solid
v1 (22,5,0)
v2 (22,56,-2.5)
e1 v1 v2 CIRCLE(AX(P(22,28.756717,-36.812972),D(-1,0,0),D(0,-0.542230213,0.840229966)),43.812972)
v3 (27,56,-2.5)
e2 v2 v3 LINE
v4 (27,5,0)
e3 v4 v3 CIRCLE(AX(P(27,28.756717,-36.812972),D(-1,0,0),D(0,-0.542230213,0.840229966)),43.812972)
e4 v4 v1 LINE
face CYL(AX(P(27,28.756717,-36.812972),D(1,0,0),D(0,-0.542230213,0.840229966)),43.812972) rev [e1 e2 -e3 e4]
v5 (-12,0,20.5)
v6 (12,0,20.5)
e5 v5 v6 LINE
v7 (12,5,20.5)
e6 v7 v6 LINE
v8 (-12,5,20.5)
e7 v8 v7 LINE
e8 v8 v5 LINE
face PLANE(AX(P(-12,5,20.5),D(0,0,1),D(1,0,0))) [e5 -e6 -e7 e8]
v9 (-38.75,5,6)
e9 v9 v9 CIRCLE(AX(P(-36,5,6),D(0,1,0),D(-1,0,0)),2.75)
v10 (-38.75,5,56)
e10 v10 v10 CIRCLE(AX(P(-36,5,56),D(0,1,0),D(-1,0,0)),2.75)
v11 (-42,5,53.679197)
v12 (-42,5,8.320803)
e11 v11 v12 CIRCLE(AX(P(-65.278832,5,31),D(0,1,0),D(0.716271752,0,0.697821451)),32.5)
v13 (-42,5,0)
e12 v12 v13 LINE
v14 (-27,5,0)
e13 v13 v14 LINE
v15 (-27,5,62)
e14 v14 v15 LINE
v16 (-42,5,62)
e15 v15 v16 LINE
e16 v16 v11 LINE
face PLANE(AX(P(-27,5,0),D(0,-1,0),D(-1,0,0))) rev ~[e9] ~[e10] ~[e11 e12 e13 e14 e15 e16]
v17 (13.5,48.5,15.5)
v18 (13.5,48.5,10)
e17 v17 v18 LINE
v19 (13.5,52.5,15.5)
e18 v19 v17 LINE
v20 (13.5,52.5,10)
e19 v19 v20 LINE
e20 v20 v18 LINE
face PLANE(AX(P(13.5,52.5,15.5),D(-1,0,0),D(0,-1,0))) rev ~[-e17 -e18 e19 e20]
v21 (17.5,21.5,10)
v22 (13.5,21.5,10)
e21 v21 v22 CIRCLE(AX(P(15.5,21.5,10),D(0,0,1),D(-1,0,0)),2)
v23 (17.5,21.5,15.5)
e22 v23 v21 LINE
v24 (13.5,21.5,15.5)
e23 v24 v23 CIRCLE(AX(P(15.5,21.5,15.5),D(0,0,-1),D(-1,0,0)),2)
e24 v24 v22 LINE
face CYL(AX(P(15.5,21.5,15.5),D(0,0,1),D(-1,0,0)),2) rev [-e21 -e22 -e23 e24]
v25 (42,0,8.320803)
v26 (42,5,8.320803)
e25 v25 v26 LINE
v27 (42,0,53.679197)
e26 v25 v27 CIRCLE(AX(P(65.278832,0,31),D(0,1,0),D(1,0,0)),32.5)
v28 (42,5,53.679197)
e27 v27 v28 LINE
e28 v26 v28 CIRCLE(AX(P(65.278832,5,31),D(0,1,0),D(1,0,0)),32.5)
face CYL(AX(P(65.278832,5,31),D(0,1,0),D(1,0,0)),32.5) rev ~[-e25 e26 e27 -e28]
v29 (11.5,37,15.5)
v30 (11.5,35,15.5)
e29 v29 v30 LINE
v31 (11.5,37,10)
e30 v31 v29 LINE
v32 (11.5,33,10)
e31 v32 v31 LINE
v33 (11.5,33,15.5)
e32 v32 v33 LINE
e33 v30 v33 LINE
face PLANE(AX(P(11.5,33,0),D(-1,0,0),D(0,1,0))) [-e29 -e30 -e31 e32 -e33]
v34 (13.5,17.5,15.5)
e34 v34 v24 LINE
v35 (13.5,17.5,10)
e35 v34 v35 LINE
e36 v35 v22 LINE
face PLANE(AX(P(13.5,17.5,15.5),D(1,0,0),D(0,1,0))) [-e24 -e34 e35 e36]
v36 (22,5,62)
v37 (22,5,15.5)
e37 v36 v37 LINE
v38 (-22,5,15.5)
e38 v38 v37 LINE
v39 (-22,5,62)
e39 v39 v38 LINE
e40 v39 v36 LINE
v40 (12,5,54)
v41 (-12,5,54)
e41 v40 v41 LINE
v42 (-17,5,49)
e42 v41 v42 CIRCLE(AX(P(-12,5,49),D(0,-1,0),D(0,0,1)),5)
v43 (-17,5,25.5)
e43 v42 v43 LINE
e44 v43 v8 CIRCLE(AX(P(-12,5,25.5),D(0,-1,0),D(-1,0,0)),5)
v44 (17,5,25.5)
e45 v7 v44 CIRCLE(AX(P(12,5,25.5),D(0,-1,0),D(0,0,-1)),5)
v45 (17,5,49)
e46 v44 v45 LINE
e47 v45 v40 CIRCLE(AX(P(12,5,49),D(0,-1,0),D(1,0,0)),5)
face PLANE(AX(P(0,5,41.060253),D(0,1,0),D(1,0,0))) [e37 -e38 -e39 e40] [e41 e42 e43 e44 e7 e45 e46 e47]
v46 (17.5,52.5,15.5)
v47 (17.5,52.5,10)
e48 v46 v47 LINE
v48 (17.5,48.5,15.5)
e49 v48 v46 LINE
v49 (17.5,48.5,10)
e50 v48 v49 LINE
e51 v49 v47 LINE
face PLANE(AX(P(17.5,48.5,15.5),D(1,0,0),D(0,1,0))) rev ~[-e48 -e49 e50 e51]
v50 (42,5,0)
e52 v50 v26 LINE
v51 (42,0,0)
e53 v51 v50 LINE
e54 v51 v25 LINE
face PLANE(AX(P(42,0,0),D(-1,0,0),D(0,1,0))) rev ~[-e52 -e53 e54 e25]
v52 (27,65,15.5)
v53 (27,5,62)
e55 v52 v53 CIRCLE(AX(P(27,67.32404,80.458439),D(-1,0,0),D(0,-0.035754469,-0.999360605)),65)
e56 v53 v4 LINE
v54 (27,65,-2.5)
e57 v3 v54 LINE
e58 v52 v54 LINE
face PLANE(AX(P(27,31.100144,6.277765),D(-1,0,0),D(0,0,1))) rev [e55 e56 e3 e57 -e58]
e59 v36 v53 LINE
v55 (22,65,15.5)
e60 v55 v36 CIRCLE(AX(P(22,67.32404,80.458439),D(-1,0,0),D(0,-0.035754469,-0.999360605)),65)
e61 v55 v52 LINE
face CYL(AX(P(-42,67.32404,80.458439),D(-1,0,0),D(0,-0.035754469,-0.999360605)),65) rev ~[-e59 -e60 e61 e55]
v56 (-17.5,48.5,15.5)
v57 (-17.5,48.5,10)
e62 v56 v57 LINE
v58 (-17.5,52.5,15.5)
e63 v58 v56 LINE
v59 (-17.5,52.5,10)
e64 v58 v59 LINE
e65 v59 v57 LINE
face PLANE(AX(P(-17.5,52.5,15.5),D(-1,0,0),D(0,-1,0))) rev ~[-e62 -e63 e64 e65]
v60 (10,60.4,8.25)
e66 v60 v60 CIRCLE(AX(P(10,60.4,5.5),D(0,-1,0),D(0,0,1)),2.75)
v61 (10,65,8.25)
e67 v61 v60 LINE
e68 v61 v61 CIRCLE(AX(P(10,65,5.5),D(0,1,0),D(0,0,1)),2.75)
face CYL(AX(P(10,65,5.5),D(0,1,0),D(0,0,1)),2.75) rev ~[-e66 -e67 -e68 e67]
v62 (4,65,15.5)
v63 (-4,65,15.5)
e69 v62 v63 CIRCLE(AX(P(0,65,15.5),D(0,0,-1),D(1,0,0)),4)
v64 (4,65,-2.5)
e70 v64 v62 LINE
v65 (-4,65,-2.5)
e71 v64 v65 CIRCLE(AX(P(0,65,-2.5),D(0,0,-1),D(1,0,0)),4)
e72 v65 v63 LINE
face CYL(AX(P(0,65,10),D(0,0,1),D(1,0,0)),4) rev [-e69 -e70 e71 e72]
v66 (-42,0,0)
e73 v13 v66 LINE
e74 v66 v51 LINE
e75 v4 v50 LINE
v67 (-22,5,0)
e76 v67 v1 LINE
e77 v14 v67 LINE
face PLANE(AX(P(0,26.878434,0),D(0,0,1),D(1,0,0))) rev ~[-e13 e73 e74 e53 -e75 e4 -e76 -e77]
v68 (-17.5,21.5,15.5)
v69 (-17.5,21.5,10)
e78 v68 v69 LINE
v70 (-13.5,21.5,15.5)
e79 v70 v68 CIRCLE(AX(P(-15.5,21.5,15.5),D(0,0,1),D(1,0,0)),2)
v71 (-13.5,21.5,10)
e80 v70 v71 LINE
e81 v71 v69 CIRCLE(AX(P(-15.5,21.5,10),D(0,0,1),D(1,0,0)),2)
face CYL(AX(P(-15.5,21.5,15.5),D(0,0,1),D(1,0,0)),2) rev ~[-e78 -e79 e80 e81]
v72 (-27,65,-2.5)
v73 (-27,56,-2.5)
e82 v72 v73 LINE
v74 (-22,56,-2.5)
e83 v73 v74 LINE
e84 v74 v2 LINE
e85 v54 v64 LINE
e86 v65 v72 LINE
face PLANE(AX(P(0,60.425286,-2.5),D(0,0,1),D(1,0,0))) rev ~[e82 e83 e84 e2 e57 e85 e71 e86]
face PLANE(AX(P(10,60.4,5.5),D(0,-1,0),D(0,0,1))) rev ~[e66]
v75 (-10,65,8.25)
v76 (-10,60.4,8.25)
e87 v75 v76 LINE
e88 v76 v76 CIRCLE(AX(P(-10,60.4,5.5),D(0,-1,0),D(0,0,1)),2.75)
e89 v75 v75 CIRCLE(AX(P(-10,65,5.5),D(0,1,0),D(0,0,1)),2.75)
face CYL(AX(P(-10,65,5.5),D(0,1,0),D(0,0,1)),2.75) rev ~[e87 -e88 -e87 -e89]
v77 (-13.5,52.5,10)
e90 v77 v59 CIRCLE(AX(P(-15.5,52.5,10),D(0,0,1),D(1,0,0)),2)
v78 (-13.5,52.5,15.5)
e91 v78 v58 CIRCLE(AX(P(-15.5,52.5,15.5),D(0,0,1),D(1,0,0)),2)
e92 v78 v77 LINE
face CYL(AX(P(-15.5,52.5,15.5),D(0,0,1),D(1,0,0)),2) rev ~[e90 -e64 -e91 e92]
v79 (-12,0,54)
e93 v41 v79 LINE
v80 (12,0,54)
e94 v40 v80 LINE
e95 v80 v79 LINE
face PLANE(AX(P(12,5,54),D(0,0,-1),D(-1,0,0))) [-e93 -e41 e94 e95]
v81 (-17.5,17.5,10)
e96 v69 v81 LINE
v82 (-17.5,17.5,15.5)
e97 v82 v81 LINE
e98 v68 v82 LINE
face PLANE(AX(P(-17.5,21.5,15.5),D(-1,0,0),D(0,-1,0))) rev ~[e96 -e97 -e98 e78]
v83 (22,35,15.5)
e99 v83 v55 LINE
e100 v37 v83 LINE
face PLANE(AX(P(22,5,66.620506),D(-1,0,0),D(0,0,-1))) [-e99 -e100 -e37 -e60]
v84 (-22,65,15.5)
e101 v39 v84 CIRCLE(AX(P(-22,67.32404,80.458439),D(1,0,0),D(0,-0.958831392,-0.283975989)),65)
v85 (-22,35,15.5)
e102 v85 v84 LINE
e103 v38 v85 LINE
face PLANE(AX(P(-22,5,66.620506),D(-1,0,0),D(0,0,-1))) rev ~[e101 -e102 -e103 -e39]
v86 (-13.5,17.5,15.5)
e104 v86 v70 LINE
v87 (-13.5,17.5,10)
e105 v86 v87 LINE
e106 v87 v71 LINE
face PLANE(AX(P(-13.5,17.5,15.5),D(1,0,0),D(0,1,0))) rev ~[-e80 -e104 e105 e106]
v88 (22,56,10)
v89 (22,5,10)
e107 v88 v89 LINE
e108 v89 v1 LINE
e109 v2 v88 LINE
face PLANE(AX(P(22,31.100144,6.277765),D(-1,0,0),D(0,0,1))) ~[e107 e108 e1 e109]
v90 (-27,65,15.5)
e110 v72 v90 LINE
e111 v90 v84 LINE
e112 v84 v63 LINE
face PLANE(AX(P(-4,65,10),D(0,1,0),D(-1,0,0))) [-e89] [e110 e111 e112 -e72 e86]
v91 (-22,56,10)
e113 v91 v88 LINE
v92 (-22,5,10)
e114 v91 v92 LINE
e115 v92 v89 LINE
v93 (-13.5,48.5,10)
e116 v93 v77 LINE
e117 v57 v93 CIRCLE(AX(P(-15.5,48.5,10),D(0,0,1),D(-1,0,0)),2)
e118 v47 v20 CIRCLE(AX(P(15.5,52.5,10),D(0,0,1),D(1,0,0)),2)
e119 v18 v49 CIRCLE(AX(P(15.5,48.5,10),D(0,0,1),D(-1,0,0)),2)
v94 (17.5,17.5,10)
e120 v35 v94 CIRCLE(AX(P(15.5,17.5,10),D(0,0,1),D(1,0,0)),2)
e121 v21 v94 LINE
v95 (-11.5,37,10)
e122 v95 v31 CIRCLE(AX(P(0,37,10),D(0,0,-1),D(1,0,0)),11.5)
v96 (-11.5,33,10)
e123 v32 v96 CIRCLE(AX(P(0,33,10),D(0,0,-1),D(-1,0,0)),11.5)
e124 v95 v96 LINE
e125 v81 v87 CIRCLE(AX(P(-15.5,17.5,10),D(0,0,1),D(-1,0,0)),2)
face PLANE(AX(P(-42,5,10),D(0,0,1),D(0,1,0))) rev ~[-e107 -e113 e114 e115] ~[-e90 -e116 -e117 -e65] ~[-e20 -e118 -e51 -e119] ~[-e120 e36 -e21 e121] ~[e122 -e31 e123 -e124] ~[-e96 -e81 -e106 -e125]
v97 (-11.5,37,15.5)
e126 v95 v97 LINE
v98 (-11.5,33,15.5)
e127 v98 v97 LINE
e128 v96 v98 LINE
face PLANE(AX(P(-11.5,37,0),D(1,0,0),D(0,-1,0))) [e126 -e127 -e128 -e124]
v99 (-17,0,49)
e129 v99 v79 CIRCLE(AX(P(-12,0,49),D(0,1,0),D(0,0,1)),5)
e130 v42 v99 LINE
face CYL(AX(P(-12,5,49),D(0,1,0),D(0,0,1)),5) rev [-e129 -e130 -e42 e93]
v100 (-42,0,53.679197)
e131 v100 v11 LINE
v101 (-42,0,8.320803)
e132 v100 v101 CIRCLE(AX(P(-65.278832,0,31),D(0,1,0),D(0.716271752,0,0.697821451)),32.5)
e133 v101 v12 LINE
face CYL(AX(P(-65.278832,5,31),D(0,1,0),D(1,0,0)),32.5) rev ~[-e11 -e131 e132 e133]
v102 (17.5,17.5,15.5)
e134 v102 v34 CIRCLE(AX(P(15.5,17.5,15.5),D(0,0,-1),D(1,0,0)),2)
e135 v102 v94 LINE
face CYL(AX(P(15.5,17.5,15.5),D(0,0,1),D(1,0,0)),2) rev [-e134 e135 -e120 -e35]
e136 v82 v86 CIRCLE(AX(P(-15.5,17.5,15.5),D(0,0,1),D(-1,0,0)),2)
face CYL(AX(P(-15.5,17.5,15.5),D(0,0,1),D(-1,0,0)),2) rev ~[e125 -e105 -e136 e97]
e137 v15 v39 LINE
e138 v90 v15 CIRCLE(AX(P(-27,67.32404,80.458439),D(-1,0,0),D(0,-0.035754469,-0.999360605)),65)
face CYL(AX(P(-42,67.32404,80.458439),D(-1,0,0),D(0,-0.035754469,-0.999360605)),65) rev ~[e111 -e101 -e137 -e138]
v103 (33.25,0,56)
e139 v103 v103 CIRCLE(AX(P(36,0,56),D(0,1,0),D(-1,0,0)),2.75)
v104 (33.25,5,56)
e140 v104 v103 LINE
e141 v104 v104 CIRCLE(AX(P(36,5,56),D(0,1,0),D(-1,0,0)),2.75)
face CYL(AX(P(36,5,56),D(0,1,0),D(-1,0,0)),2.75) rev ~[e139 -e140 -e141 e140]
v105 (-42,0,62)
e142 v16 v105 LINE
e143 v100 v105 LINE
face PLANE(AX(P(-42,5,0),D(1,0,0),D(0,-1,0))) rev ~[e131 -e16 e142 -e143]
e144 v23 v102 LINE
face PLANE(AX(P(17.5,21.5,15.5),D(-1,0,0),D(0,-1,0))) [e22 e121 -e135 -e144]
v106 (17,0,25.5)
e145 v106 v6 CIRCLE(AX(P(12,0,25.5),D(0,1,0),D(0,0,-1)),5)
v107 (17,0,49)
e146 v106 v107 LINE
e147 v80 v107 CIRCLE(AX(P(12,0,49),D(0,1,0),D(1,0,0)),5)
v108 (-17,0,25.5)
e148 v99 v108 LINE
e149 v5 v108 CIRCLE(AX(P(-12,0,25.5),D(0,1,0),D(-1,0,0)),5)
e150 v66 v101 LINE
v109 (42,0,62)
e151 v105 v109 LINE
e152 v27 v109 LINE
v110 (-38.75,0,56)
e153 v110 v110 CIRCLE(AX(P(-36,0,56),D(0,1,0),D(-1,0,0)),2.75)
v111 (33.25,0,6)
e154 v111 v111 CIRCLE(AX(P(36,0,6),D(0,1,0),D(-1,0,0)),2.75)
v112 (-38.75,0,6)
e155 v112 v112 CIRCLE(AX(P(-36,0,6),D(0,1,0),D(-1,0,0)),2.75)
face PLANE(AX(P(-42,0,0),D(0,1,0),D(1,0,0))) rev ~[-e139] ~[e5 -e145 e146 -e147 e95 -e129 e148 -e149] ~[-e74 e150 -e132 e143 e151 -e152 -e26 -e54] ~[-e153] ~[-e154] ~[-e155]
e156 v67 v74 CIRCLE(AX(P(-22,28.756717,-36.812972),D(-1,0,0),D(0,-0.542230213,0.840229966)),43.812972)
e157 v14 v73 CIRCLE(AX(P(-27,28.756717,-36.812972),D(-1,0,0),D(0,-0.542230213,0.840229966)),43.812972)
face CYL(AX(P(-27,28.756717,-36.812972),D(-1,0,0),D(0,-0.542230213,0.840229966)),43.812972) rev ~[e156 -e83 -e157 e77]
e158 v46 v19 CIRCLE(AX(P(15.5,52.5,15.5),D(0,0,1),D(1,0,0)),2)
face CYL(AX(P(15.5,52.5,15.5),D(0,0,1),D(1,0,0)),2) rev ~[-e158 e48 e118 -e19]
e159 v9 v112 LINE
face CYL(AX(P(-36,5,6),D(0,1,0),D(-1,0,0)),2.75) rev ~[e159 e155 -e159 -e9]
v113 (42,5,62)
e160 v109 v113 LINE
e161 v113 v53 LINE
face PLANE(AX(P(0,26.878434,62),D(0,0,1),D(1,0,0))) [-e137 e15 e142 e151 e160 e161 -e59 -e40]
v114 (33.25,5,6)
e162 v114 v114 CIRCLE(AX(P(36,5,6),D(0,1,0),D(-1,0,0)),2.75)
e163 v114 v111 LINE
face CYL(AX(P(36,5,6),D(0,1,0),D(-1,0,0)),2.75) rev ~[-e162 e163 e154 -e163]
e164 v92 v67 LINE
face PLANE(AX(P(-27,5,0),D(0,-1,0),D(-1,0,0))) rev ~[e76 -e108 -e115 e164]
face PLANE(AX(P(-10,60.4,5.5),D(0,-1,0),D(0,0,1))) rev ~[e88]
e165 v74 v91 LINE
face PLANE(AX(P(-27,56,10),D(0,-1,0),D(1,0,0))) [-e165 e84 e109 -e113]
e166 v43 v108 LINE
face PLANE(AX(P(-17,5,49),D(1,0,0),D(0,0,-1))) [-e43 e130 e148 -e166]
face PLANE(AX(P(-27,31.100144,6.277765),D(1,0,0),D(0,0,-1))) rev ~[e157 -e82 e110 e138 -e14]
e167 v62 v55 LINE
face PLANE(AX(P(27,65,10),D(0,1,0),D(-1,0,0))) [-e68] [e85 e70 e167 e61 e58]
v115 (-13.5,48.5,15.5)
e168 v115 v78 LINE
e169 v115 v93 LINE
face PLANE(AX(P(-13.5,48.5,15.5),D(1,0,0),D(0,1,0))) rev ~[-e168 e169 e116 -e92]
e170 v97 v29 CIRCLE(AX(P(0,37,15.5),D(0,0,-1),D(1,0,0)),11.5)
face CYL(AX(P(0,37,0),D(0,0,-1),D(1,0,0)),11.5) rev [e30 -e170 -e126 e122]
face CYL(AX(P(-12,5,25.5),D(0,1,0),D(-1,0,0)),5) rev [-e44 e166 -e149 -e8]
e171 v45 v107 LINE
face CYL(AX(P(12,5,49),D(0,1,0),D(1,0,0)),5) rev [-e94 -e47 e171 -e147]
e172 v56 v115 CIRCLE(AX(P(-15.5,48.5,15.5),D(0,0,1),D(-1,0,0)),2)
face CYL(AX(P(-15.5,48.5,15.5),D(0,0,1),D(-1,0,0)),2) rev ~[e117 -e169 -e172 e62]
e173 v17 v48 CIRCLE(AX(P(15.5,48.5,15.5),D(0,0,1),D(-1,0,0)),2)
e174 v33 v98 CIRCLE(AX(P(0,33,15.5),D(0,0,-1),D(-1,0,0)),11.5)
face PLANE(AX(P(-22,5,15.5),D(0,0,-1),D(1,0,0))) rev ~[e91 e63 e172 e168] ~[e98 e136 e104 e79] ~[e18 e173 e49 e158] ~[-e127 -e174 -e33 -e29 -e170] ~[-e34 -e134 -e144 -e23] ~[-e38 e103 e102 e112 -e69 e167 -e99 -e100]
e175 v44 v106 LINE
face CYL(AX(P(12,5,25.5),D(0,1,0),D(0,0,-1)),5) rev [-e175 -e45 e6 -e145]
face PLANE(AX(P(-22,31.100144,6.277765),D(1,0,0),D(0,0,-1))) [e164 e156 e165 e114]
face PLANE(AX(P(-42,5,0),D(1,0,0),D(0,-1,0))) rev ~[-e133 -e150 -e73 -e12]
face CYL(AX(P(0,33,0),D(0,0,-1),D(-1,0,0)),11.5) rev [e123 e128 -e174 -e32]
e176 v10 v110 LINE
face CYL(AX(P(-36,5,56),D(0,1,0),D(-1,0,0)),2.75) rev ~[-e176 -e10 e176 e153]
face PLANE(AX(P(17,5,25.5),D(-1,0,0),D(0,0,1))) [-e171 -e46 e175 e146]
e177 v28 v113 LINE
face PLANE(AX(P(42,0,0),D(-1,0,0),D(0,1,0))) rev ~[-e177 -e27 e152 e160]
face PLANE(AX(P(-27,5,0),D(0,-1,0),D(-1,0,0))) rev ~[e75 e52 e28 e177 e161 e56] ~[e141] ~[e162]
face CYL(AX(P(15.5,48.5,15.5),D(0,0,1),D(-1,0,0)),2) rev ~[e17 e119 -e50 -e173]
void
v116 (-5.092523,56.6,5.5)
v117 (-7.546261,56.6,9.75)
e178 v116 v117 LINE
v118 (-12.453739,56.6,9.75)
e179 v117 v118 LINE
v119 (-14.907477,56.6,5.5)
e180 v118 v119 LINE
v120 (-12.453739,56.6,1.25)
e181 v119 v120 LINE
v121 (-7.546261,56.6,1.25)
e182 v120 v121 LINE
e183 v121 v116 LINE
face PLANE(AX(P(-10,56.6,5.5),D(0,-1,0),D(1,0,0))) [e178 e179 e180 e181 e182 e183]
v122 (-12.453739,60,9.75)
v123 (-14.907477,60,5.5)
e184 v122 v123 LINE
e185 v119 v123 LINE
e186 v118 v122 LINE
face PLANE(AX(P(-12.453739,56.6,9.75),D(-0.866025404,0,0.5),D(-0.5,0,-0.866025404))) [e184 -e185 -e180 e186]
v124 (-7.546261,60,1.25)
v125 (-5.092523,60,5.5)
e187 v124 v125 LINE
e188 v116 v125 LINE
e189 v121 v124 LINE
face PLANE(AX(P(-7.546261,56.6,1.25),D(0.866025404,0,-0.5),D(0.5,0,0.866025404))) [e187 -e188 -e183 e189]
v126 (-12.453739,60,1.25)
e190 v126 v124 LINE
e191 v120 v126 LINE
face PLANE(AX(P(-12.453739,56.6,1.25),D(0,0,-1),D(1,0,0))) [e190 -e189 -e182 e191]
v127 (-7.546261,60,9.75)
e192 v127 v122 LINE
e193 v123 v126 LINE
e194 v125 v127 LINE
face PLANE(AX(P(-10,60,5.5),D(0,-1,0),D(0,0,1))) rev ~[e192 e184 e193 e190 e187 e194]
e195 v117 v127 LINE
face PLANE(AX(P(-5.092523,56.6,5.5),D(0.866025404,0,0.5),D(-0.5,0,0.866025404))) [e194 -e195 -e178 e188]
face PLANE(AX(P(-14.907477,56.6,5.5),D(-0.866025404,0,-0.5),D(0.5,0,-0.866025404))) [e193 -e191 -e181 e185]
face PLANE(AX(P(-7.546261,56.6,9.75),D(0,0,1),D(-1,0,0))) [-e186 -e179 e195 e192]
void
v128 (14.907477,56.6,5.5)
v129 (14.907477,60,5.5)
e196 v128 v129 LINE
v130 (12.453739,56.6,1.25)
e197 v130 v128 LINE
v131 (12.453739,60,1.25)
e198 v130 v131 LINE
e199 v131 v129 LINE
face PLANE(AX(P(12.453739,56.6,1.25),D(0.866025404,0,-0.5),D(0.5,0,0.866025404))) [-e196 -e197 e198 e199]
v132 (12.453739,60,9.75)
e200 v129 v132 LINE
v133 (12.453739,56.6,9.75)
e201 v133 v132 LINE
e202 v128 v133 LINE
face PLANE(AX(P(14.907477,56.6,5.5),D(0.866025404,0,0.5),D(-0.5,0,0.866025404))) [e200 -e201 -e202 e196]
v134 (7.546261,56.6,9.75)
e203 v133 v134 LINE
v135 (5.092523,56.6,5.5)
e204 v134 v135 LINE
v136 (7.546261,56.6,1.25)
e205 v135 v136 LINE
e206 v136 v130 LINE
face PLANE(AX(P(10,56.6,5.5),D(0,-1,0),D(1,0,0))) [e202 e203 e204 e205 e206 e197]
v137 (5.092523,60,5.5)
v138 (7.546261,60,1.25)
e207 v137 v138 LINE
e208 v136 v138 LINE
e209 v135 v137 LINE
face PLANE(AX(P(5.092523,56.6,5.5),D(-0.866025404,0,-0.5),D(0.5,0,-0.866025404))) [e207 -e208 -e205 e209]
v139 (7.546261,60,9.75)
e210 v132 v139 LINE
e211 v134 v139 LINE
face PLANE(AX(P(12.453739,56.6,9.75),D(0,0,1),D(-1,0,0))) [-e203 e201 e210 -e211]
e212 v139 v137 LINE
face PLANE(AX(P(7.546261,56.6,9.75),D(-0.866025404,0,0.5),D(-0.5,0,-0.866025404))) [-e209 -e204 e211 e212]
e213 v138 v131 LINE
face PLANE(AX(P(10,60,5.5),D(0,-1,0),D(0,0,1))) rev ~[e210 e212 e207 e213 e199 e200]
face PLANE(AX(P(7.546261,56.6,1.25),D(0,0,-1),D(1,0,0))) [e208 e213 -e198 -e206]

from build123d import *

# Parameters (mm, degrees)
BOSS_EXTRUDE1_DEPTH = 62
SKETCH2_W           = 10
SKETCH2_H           = 60
CUT_EXTRUDE1_DEPTH  = 85
SKETCH12_W          = 44
SKETCH12_H          = 51.120506265
CUT_EXTRUDE11_DEPTH = 30
SKETCH17_R          = 2.75
SKETCH17_R_2        = 32.5
CUT_EXTRUDE14_DEPTH = 6
CUT_EXTRUDE17_DEPTH = 10
CUT_EXTRUDE18_DEPTH = 6
SKETCH24_W          = 44
SKETCH24_H          = 8.565563784
CUT_EXTRUDE19_DEPTH = 31.0000001
BOSS_EXTRUDE2_DEPTH = 12.5
BOSS_EXTRUDE3_DEPTH = 5
CUT_EXTRUDE20_START = -0.6
CUT_EXTRUDE20_DEPTH = 3.4
SKETCH29_R          = 2.75
CUT_EXTRUDE21_DEPTH = 6
SKETCH33_R          = 2.75
BOSS_EXTRUDE5_DEPTH = 0.4


with BuildPart() as part:
    # Sketch1 → Boss-Extrude1 (new body)
    with BuildSketch(Plane.XY):
        with BuildLine():
            Line((-42, 0), (42, 0))
            Line((42, 0), (42, 5))
            Line((42, 5), (27, 5))
            Line((27, 5), (27, 65))
            Line((27, 65), (4, 65))
            ThreePointArc((4, 65), (0, 61), (-4, 65))
            Line((-4, 65), (-27, 65))
            Line((-27, 65), (-27, 5))
            Line((-27, 5), (-42, 5))
            Line((-42, 5), (-42, 0))
        make_face()
        with BuildLine():
            Line((-11.5, 37), (-11.5, 33))
            ThreePointArc((-11.5, 33), (0, 21.5), (11.5, 33))
            Line((11.5, 33), (11.5, 37))
            ThreePointArc((11.5, 37), (0, 48.5), (-11.5, 37))
        make_face(mode=Mode.SUBTRACT)
    extrude(amount=BOSS_EXTRUDE1_DEPTH)

    # Sketch2 → Cut-Extrude1 (cut, through all)
    with BuildSketch(Plane.ZY.offset(42)):
        with Locations((5, 35)):
            Rectangle(SKETCH2_W, SKETCH2_H)
        with BuildLine():
            Line((62, 5), (62, 65))
            Line((62, 65), (15.5, 65))
            ThreePointArc((15.5, 65), (29.081460906, 27.506882202), (62, 5))
        make_face()
    extrude(amount=-CUT_EXTRUDE1_DEPTH, mode=Mode.SUBTRACT)

    # Sketch12 → Cut-Extrude11 (cut)
    with BuildSketch(Plane(origin=(0, 5, 0), x_dir=(1, 0, 0), z_dir=(0, 1, 0))):
        with Locations((0, -41.060253133)):
            Rectangle(SKETCH12_W, SKETCH12_H)
    extrude(amount=CUT_EXTRUDE11_DEPTH, mode=Mode.SUBTRACT)

    # Sketch17 → Cut-Extrude14 (cut, through all)
    with BuildSketch(Plane(origin=(0, 5, 0), x_dir=(1, 0, 0), z_dir=(0, 1, 0))):
        with Locations(Location((-36, -6, 0), (0, 0, 180))):  # turned: the seam where the file's is
            Circle(SKETCH17_R)
        with Locations(Location((36, -6, 0), (0, 0, 180))):  # turned: the seam where the file's is
            Circle(SKETCH17_R)
        with Locations(Location((36, -56, 0), (0, 0, 180))):  # turned: the seam where the file's is
            Circle(SKETCH17_R)
        with Locations(Location((-36, -56, 0), (0, 0, 180))):  # turned: the seam where the file's is
            Circle(SKETCH17_R)
        with Locations((65.278831944, -31)):
            Circle(SKETCH17_R_2)
        with Locations((-65.278831944, -31)):
            Circle(SKETCH17_R_2)
    extrude(amount=-CUT_EXTRUDE14_DEPTH, mode=Mode.SUBTRACT)

    # Sketch20 → Cut-Extrude17 (cut)
    with BuildSketch(Plane.XY.offset(15.5)):
        with BuildLine():
            Line((-17.5, 52.5), (-17.5, 48.5))
            ThreePointArc((-17.5, 48.5), (-15.5, 46.5), (-13.5, 48.5))
            Line((-13.5, 48.5), (-13.5, 52.5))
            ThreePointArc((-13.5, 52.5), (-15.5, 54.5), (-17.5, 52.5))
        make_face()
        with BuildLine():
            Line((13.5, 52.5), (13.5, 48.5))
            ThreePointArc((13.5, 48.5), (15.5, 46.5), (17.5, 48.5))
            Line((17.5, 48.5), (17.5, 52.5))
            ThreePointArc((17.5, 52.5), (15.5, 54.5), (13.5, 52.5))
        make_face()
        with BuildLine():
            Line((-17.5, 21.5), (-17.5, 17.5))
            ThreePointArc((-17.5, 17.5), (-15.5, 15.5), (-13.5, 17.5))
            Line((-13.5, 17.5), (-13.5, 21.5))
            ThreePointArc((-13.5, 21.5), (-15.5, 23.5), (-17.5, 21.5))
        make_face()
        with BuildLine():
            Line((13.5, 17.5), (13.5, 21.5))
            ThreePointArc((13.5, 21.5), (15.5, 23.5), (17.5, 21.5))
            Line((17.5, 21.5), (17.5, 17.5))
            ThreePointArc((17.5, 17.5), (15.5, 15.5), (13.5, 17.5))
        make_face()
    extrude(amount=-CUT_EXTRUDE17_DEPTH, mode=Mode.SUBTRACT)

    # Sketch21 → Cut-Extrude18 (cut, through all)
    with BuildSketch(Plane(origin=(0, 5, 0), x_dir=(1, 0, 0), z_dir=(0, 1, 0))):
        with BuildLine():
            Line((-12, -20.5), (12, -20.5))
            ThreePointArc((12, -20.5), (15.535533906, -21.964466094), (17, -25.5))
            Line((17, -25.5), (17, -49))
            ThreePointArc((17, -49), (15.535533906, -52.535533906), (12, -54))
            Line((12, -54), (-12, -54))
            ThreePointArc((-12, -54), (-15.535533906, -52.535533906), (-17, -49))
            Line((-17, -49), (-17, -25.5))
            ThreePointArc((-17, -25.5), (-15.535533906, -21.964466094), (-12, -20.5))
        make_face()
    extrude(amount=-CUT_EXTRUDE18_DEPTH, mode=Mode.SUBTRACT)

    # Sketch24 → Cut-Extrude19 (cut, through all)
    with BuildSketch(Plane.XZ.offset(-35)):
        with Locations((0, 19.782781892)):
            Rectangle(SKETCH24_W, SKETCH24_H)
    extrude(amount=-CUT_EXTRUDE19_DEPTH, mode=Mode.SUBTRACT)

    # Sketch25 → Boss-Extrude2 (add)
    with BuildSketch(Plane(origin=(0, 0, 10), x_dir=(-1, 0, 0), z_dir=(0, 0, -1))):
        with BuildLine():
            Line((-27, 65), (-4, 65))
            ThreePointArc((-4, 65), (0, 61), (4, 65))
            Line((4, 65), (27, 65))
            Line((27, 65), (27, 56))
            Line((27, 56), (-27, 56))
            Line((-27, 56), (-27, 65))
        make_face()
    extrude(amount=BOSS_EXTRUDE2_DEPTH)

    # Sketch27 → Boss-Extrude3 (add)
    with BuildSketch(Plane.ZY.offset(27)):
        with BuildLine():
            Line((-2.5, 56), (10, 56))
            Line((10, 56), (10, 5))
            Line((10, 5), (0, 5))
            ThreePointArc((0, 5), (6.947455101, 30.901836034), (-2.5, 56))
        make_face()
    boss_extrude3 = extrude(amount=-BOSS_EXTRUDE3_DEPTH)

    # Mirror1: Boss-Extrude3 across plane
    add(boss_extrude3.mirror(Plane(origin=(0, 0, 0), x_dir=(0, 0, 1), z_dir=(1, 0, 0))))

    # Sketch28 → Cut-Extrude20 (cut)
    with BuildSketch(Plane.XZ.offset(-56).offset(CUT_EXTRUDE20_START)):
        Polygon((-5.092522712, 5.5), (-7.546261356, 9.75), (-12.453738644, 9.75), (-14.907477288, 5.5), (-12.453738644, 1.25), (-7.546261356, 1.25), align=None)
        Polygon((5.092522712, 5.5), (7.546261356, 1.25), (12.453738644, 1.25), (14.907477288, 5.5), (12.453738644, 9.75), (7.546261356, 9.75), align=None)
    extrude(amount=-CUT_EXTRUDE20_DEPTH, mode=Mode.SUBTRACT)

    # Sketch29 → Cut-Extrude21 (cut)
    with BuildSketch(Plane(origin=(0, 65, 0), x_dir=(1, 0, 0), z_dir=(0, 1, 0))):
        with Locations(Location((-10, -5.5, 0), (0, 0, 270))):  # turned: the seam where the file's is
            Circle(SKETCH29_R)
        with Locations(Location((10, -5.5, 0), (0, 0, 270))):  # turned: the seam where the file's is
            Circle(SKETCH29_R)
    extrude(amount=-CUT_EXTRUDE21_DEPTH, mode=Mode.SUBTRACT)

    # Sketch33 → Boss-Extrude5 (add)
    with BuildSketch(Plane.XZ.offset(-60)):
        with Locations(Location((10, 5.5, 0), (0, 0, 90))):  # turned: the seam where the file's is
            Circle(SKETCH33_R)
        with Locations(Location((-10, 5.5, 0), (0, 0, 90))):  # turned: the seam where the file's is
            Circle(SKETCH33_R)
    extrude(amount=-BOSS_EXTRUDE5_DEPTH)


solid = part.part
